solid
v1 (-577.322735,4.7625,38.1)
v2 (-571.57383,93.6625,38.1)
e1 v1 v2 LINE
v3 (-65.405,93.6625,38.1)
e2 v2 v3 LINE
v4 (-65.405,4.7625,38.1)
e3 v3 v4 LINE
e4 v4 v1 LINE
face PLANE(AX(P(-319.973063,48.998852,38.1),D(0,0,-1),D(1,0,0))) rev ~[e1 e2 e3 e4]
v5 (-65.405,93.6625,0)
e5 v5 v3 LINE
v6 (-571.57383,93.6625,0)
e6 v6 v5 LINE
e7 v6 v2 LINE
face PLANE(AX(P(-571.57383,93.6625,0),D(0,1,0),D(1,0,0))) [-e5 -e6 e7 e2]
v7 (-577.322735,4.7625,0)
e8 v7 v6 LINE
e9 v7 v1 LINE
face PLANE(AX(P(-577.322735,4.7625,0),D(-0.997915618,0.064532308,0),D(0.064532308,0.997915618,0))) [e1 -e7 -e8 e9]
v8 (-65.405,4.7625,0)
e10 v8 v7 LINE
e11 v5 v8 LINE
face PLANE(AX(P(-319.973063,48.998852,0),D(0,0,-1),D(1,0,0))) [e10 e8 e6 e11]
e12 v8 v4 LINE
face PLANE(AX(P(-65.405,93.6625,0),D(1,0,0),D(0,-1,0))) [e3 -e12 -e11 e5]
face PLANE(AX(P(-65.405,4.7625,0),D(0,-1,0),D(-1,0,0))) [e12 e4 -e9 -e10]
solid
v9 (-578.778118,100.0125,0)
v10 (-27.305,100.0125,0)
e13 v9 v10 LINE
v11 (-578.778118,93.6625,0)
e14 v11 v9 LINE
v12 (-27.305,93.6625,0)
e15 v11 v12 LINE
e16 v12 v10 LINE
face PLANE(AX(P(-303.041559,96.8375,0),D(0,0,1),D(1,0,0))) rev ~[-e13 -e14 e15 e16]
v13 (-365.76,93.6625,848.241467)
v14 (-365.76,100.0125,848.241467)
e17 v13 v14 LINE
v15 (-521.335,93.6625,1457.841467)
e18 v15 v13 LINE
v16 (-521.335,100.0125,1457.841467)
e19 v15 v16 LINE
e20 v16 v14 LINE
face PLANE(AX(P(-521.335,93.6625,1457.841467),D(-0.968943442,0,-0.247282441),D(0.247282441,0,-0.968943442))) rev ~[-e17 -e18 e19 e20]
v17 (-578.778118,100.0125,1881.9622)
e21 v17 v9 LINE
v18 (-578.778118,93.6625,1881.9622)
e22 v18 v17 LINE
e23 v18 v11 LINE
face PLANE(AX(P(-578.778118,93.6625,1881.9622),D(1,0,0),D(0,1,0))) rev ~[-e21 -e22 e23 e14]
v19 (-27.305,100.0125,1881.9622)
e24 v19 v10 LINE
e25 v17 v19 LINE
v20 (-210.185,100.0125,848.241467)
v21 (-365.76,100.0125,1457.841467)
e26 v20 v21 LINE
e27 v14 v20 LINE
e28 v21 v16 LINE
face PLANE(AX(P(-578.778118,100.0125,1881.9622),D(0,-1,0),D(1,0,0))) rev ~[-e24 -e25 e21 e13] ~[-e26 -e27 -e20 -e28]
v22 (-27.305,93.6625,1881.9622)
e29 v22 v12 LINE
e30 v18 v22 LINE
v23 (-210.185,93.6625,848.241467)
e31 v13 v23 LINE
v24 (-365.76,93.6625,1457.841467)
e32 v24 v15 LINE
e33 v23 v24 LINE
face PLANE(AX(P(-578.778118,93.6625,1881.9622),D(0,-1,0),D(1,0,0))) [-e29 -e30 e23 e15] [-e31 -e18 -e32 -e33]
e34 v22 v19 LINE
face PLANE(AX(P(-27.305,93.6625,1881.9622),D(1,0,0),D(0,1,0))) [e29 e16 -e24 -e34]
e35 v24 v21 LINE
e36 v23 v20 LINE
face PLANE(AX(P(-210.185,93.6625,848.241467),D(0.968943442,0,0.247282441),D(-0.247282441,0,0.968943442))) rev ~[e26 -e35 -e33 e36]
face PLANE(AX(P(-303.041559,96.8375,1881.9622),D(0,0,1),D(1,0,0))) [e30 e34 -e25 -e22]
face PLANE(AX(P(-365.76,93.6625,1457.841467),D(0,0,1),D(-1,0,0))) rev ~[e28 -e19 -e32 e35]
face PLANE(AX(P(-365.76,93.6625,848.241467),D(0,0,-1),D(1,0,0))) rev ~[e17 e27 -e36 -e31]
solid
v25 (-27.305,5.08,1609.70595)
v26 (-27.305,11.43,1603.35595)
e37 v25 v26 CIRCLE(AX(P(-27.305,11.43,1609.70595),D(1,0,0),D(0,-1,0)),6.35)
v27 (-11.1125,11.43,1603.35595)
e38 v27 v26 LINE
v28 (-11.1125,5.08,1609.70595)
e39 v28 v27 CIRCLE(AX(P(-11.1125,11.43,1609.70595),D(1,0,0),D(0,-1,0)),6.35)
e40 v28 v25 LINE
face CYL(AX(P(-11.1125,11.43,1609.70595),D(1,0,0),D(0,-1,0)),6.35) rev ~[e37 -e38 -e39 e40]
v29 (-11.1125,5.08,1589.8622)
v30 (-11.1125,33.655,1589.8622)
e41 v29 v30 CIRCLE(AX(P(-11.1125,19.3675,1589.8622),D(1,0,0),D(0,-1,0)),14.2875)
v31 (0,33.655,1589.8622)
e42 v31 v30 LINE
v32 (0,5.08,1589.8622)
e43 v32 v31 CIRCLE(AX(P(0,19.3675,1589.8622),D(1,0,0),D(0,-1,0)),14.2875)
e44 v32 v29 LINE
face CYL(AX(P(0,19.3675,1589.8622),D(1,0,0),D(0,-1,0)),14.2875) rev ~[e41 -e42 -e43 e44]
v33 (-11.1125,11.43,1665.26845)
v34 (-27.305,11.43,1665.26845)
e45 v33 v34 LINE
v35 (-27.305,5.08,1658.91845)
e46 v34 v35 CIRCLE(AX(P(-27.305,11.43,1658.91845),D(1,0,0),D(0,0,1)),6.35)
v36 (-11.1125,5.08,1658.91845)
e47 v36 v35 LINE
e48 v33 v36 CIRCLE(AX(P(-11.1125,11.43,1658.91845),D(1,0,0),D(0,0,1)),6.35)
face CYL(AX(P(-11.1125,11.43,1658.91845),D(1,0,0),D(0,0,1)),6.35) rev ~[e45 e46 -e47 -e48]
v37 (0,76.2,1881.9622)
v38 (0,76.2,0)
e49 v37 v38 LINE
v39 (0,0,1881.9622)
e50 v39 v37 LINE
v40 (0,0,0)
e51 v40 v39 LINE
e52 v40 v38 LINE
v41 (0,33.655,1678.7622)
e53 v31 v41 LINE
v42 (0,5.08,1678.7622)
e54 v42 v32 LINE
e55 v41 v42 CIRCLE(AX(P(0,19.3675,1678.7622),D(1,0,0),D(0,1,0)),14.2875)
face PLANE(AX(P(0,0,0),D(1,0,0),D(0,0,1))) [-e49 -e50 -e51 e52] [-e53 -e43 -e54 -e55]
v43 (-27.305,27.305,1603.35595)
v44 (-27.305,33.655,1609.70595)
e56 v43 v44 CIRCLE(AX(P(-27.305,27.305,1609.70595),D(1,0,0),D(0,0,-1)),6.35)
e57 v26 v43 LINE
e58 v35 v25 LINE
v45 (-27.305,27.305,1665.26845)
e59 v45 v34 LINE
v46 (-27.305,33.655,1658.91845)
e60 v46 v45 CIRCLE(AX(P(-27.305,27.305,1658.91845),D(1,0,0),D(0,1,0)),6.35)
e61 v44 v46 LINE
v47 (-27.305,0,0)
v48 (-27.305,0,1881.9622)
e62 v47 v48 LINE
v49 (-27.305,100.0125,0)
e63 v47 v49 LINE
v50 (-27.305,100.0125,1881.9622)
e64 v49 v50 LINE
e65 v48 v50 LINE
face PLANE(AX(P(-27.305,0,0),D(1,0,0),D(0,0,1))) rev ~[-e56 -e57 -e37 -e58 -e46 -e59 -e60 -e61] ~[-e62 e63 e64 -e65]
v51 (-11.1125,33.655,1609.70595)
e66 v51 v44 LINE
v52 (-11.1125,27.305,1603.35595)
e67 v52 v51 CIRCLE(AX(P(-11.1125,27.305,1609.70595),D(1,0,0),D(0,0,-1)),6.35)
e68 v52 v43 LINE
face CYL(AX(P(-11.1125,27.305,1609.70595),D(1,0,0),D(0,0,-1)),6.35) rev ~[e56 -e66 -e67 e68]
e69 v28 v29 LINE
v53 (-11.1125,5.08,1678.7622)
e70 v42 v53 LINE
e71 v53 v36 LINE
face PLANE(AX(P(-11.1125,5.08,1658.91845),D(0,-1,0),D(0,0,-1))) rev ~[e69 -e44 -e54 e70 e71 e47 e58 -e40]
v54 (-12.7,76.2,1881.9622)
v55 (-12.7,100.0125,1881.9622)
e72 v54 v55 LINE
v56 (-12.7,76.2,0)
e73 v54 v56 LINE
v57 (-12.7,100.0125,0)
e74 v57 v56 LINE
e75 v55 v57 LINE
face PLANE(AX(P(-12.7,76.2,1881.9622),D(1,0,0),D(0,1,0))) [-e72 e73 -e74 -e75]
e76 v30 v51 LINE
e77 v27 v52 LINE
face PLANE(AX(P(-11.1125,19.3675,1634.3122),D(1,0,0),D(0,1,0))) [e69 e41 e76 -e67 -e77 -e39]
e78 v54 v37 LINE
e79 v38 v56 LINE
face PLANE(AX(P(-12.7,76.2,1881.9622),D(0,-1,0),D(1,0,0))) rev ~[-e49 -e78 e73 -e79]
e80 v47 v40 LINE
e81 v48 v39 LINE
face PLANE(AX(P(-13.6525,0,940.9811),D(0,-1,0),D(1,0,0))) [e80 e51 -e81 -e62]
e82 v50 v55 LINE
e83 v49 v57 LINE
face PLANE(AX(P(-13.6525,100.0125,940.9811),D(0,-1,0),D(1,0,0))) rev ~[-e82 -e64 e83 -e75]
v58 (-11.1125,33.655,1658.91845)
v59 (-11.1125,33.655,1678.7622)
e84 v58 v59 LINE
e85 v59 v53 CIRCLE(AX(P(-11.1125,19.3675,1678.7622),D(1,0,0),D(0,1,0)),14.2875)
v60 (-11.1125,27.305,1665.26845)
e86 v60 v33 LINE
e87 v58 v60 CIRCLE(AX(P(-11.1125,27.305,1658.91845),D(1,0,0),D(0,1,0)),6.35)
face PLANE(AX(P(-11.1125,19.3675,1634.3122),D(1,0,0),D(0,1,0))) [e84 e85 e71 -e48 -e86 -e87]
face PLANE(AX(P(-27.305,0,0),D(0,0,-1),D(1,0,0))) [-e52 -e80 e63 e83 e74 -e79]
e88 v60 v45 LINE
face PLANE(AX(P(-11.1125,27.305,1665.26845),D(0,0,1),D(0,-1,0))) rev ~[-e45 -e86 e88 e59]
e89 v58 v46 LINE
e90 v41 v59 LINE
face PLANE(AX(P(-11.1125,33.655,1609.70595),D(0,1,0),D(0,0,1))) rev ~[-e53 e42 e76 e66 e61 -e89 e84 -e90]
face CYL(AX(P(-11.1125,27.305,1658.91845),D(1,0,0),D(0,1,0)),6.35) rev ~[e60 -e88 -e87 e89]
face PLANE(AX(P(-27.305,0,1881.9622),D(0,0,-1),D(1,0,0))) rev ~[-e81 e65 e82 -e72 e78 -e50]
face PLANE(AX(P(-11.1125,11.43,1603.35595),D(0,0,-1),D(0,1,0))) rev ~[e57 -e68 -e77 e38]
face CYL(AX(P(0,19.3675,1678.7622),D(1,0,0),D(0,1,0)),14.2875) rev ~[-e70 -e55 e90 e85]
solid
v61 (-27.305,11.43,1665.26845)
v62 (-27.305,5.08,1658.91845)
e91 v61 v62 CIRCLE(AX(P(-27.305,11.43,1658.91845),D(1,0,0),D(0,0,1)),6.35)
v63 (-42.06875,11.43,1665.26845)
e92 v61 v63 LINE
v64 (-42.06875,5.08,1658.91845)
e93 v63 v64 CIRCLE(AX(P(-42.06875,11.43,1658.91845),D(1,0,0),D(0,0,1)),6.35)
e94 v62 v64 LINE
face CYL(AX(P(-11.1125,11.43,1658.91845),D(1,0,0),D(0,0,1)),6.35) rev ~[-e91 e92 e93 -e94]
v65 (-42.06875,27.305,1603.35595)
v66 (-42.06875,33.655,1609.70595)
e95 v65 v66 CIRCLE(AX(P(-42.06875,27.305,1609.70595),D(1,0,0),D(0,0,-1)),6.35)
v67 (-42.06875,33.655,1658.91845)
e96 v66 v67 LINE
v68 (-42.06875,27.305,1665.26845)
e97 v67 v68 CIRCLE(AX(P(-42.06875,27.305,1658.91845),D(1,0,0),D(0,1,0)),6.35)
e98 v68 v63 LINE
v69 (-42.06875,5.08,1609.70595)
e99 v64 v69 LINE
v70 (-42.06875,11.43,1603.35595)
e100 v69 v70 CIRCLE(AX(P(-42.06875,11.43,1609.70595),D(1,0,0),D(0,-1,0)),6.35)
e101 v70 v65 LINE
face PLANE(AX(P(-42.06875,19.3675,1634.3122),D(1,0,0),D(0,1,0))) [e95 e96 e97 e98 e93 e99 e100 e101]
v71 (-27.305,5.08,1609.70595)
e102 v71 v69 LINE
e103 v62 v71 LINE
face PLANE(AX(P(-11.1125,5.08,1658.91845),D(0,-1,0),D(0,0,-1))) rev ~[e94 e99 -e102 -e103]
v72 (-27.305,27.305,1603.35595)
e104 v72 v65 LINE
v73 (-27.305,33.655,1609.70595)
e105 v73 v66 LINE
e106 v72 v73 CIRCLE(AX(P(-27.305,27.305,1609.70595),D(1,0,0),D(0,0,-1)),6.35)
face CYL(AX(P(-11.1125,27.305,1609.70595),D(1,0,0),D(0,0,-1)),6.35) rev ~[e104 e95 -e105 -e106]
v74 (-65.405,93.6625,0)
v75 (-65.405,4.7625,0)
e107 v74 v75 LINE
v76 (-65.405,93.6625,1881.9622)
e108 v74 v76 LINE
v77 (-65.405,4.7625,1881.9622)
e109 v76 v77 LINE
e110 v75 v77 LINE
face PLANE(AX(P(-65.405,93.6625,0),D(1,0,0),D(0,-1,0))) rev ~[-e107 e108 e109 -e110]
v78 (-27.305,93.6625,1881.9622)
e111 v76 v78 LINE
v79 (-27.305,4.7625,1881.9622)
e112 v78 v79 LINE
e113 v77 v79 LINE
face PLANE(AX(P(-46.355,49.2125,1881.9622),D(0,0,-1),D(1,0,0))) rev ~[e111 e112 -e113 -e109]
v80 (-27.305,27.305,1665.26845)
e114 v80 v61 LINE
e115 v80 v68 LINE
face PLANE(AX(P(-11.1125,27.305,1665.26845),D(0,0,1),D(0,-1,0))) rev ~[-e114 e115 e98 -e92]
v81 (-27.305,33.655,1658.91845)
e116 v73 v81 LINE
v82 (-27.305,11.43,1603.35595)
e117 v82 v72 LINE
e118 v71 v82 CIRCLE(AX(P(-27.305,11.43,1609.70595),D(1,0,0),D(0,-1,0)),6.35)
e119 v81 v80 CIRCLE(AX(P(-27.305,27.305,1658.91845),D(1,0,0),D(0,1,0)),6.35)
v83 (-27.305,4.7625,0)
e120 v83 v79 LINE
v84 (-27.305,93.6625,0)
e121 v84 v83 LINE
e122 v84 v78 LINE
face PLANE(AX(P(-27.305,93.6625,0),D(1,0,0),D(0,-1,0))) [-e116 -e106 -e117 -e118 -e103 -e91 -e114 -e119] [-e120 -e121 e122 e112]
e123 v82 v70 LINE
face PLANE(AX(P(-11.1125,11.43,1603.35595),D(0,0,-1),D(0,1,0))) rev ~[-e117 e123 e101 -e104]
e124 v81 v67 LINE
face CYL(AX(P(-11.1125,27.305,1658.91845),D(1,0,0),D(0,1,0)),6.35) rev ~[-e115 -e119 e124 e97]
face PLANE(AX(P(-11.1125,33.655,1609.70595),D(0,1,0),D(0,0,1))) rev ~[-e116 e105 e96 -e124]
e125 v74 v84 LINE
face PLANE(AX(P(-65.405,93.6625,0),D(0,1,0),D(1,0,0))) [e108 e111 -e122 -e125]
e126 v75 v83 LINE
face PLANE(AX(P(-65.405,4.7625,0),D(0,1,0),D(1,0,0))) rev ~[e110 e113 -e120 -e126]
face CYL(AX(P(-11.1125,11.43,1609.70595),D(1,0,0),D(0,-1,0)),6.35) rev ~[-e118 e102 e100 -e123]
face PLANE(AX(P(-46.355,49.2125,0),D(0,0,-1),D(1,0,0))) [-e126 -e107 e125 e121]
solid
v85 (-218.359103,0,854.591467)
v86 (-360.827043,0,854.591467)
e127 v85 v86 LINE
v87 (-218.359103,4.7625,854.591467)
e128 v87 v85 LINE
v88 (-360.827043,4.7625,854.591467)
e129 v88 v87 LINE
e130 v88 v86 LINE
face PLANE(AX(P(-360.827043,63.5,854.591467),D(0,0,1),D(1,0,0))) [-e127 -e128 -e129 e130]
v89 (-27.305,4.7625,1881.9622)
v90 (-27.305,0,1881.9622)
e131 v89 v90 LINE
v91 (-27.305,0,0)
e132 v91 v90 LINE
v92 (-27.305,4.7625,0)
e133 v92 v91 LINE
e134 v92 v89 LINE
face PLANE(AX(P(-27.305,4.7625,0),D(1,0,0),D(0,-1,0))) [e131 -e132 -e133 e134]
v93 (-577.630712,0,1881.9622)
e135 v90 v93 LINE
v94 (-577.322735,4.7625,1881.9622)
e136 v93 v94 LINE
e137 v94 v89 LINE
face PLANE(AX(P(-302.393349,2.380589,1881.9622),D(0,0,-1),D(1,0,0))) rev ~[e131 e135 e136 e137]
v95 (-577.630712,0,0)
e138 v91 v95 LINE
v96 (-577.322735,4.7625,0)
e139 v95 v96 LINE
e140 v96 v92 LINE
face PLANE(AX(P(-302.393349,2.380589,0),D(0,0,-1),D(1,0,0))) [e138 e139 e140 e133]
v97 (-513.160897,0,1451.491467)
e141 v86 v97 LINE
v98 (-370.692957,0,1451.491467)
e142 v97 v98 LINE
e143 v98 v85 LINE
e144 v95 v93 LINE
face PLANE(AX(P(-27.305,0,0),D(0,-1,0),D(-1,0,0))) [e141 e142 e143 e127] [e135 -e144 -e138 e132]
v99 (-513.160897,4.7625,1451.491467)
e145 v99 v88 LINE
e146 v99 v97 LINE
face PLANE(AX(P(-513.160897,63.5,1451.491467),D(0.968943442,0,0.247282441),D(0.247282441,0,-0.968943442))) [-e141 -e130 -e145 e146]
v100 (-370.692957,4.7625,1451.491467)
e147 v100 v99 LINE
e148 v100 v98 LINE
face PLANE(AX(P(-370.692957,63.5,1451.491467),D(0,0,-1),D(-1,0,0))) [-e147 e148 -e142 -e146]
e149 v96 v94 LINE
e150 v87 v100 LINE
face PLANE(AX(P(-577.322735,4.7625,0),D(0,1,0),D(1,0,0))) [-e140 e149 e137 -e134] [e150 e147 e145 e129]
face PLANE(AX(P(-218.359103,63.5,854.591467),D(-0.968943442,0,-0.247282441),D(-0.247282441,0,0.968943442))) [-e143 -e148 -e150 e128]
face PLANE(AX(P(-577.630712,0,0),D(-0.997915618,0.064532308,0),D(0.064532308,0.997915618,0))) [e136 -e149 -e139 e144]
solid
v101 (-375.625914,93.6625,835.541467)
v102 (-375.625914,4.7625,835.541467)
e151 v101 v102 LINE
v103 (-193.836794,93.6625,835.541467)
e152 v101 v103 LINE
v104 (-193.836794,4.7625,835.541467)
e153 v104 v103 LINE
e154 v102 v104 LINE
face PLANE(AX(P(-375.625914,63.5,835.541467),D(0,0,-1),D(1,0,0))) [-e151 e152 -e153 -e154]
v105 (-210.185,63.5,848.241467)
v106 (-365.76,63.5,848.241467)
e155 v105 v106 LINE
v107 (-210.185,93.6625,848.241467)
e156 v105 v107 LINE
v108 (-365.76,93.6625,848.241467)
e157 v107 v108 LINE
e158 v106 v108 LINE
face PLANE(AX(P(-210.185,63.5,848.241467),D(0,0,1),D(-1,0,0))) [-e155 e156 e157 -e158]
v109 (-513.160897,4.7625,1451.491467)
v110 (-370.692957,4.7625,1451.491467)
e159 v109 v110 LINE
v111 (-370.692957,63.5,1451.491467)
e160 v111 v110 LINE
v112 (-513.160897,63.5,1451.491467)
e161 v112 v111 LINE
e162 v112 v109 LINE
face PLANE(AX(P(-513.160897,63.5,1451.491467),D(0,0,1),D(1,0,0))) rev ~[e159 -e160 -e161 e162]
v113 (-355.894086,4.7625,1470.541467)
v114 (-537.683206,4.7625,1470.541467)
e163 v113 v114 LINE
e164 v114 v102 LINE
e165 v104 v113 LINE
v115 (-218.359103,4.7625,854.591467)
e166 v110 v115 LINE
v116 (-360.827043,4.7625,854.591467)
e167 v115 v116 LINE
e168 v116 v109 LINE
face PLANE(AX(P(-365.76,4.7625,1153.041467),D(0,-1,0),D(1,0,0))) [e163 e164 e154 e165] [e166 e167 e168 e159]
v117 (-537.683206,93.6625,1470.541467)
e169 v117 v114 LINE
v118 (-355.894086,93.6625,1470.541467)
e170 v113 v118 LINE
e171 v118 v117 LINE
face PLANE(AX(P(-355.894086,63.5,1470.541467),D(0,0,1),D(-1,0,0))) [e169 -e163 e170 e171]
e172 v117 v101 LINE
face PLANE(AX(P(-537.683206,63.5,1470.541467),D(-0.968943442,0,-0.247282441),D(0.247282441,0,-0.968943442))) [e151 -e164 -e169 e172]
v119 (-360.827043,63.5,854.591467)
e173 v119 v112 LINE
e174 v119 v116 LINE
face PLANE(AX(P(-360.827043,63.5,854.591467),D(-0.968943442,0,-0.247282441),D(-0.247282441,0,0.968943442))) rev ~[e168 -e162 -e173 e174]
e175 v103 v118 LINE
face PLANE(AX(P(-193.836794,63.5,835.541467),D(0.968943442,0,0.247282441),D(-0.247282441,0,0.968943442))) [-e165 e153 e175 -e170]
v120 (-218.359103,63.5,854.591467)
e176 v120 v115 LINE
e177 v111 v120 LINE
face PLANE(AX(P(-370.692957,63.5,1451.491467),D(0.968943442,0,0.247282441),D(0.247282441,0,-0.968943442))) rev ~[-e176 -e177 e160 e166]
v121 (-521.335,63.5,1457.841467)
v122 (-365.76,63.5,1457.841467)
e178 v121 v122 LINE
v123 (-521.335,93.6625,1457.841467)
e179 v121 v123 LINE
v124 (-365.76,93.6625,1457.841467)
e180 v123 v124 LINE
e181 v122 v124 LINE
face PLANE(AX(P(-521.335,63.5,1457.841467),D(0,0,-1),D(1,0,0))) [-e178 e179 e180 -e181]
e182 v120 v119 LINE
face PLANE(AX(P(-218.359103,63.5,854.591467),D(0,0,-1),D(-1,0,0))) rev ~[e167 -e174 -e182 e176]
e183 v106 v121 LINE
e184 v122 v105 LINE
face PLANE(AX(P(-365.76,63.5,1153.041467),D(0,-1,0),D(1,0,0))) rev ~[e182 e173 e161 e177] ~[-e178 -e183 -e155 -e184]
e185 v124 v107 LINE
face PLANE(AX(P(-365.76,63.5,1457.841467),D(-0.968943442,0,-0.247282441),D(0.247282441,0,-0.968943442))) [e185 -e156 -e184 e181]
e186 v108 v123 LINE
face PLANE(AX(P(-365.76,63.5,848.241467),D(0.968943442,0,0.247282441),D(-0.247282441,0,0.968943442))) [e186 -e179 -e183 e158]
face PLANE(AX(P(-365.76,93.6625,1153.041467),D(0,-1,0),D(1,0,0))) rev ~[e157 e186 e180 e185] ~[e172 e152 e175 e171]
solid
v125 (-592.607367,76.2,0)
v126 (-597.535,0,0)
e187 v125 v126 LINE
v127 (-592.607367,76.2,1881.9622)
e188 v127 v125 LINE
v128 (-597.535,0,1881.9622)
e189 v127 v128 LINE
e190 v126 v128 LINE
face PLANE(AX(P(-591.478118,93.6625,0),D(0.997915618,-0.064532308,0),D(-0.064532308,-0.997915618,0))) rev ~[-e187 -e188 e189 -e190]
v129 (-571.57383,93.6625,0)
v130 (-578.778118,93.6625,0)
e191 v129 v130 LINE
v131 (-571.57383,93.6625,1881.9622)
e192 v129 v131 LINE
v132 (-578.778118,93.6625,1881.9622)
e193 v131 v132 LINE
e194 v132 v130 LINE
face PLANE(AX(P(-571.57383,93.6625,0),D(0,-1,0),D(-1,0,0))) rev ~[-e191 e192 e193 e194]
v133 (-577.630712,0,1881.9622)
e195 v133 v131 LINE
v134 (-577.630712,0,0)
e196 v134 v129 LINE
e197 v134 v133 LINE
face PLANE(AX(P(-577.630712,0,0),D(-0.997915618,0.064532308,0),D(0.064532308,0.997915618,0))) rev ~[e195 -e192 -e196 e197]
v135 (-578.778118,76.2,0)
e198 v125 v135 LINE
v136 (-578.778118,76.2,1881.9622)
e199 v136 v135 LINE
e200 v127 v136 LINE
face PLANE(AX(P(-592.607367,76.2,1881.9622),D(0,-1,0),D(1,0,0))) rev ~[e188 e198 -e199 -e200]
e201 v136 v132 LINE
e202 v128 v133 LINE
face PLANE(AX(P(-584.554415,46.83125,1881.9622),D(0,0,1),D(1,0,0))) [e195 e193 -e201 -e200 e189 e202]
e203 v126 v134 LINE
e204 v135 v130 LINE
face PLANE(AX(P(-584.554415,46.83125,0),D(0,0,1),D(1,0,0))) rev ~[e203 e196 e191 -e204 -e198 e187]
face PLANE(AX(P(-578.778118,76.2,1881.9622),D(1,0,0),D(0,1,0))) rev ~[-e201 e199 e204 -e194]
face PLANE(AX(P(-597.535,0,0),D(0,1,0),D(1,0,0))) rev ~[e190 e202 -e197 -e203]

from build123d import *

# Parameters (mm, degrees)
F0_W      = 27.305
F0_H      = 1881.9622
F1_DEPTH  = 100.0125
F2_W      = 38.1
F2_H      = 88.9
F3_DEPTH  = 1881.9622
F6_DEPTH  = 1881.9622
F8_DEPTH  = 1881.9622
F10_DEPTH = 38.1
F12_DEPTH = 11.1125
F14_DEPTH = 30.95625
F16_DEPTH = 596.43992
F17_W     = 12.7
F17_H     = 23.8125
F18_DEPTH = 1881.9632
F19_W     = 551.4731178237
F19_H     = 6.35
F20_DEPTH = 1881.9622
F23_DEPTH = 6.351
F26_DEPTH = 58.7375
F27_DEPTH = 30.1625
F28_DEPTH = 63.501


with BuildPart() as f1:
    # F0 (on Front) → F1 (new body)
    with BuildSketch(Plane.XZ):
        with Locations((-13.6525, 940.9811)):
            Rectangle(F0_W, F0_H)
    extrude(amount=-F1_DEPTH)

    # F11 (on face) → F12 (cut)
    with BuildSketch(Plane.YZ):
        with BuildLine():
            Line((5.08, 1678.7622), (5.08, 1589.8622))
            ThreePointArc((5.08, 1589.8622), (19.3675, 1575.5747), (33.655, 1589.8622))
            Line((33.655, 1589.8622), (33.655, 1678.7622))
            ThreePointArc((33.655, 1678.7622), (19.3675, 1693.0497), (5.08, 1678.7622))
        make_face()
    extrude(amount=-F12_DEPTH, mode=Mode.SUBTRACT)


with BuildPart() as f3:
    # F2 (on face) → F3 (new body, through all)
    with BuildSketch(Plane(origin=(0, 0, 0), x_dir=(1, 0, 0), z_dir=(0, 0, -1))):
        with Locations((-46.355, -49.2125)):
            Rectangle(F2_W, F2_H)
    extrude(amount=-F3_DEPTH)


with BuildPart() as f6:
    # F5 (on Top) → F6 (new body, through all)
    with BuildSketch(Plane.XY):
        Polygon((-571.5738296892, 93.6625), (-591.4781178237, 93.6625), (-597.535, 0), (-577.6307118655, 0), align=None)
    extrude(amount=F6_DEPTH)


with BuildPart() as f8:
    # F7 (on face) → F8 (new body, through all)
    with BuildSketch(Plane(origin=(0, 0, 0), x_dir=(1, 0, 0), z_dir=(0, 0, -1))):
        Polygon((-577.3227348057, -4.7625), (-27.305, -4.7625), (-27.305, 0), (-577.6307118655, 0), align=None)
    extrude(amount=-F8_DEPTH)

    # F25 (on offset) → F28 (cut, through all)
    with BuildSketch(Plane.XZ.offset(-63.5)):
        Polygon((-370.6929571686, 1451.4914666667), (-513.160896998, 1451.4914666667), (-360.8270428314, 854.5914666668), (-218.3591030019, 854.5914666667), align=None)
    extrude(amount=F28_DEPTH, mode=Mode.SUBTRACT)


with BuildPart() as f10:
    # F9 (on face) → F10 (new body)
    with BuildSketch(Plane(origin=(0, 0, 0), x_dir=(1, 0, 0), z_dir=(0, 0, -1))):
        Polygon((-571.5738296892, -93.6625), (-65.405, -93.6625), (-65.405, -4.7625), (-577.3227348057, -4.7625), align=None)
    extrude(amount=-F10_DEPTH)


with BuildPart() as f14_tool:
    # F13 (on face) → F14 (new body)
    with BuildSketch(Plane.YZ.offset(-11.1125)):
        with BuildLine():
            Line((27.305, 1665.26845), (11.43, 1665.26845))
            ThreePointArc((11.43, 1665.26845), (6.9398719395, 1663.4085780605), (5.08, 1658.91845))
            Line((5.08, 1658.91845), (5.08, 1609.70595))
            ThreePointArc((5.08, 1609.70595), (6.9398719395, 1605.2158219395), (11.43, 1603.35595))
            Line((11.43, 1603.35595), (27.305, 1603.35595))
            ThreePointArc((27.305, 1603.35595), (31.7951280605, 1605.2158219395), (33.655, 1609.70595))
            Line((33.655, 1609.70595), (33.655, 1658.91845))
            ThreePointArc((33.655, 1658.91845), (31.7951280605, 1663.4085780605), (27.305, 1665.26845))
        make_face()
    extrude(amount=-F14_DEPTH)


with BuildPart() as f1_1:
    add(f1.part)

    # F14: cut by f14_tool
    add(f14_tool.part, mode=Mode.SUBTRACT)


with BuildPart() as f3_1:
    add(f3.part)

    # F14: cut by f14_tool
    add(f14_tool.part, mode=Mode.SUBTRACT)


with BuildPart() as f16:
    # F15 (on offset) → F16 (new body)
    with BuildSketch(Plane.YZ.offset(-600.71)):
        Polygon((-20.0647553623, 1526.7833842013), (-9.9087004615, 1526.5002784738), (0, 1881.9622), align=None)
    extrude(amount=F16_DEPTH)


with BuildPart() as f16b:
    # F15 (on offset) → F16, piece 2 (new body)
    with BuildSketch(Plane.YZ.offset(-600.71)):
        Polygon((-16.3270426588, 1386.8002784738), (-6.1685714286, 1386.6240335758), (0, 1742.1705266348), (-9.9087004615, 1526.5002784738), align=None)
    extrude(amount=F16_DEPTH)


with BuildPart() as f16c:
    # F15 (on offset) → F16, piece 3 (new body)
    with BuildSketch(Plane.YZ.offset(-600.71)):
        Polygon((0, 1246.9240335758), (0, 1602.5240335758), (-6.1685714286, 1386.6240335758), (-10.16, 1246.9240335758), align=None)
    extrude(amount=F16_DEPTH)


with BuildPart() as f18_tool:
    # F17 (on face) → F18 (new body, through all)
    with BuildSketch(Plane.XY.offset(1881.9622)):
        with Locations((-6.35, 88.10625)):
            Rectangle(F17_W, F17_H)
        Polygon((-592.607367043, 76.2), (-591.4781178237, 76.2), (-578.7781178237, 76.2), (-578.7781178237, 93.6625), (-591.4781178237, 93.6625), align=None)
    extrude(amount=-F18_DEPTH)


with BuildPart() as f1_2:
    add(f1_1.part)

    # F18: cut by f18_tool
    add(f18_tool.part, mode=Mode.SUBTRACT)


with BuildPart() as f6_1:
    add(f6.part)

    # F18: cut by f18_tool
    add(f18_tool.part, mode=Mode.SUBTRACT)


with BuildPart() as f20:
    # F19 (on face) → F20 (new body, through all)
    with BuildSketch(Plane.XY.offset(1881.9622)):
        with Locations((-303.0415589119, 96.8375)):
            Rectangle(F19_W, F19_H)
    extrude(amount=-F20_DEPTH)

    # F22 (on face) → F23 (cut, through all)
    with BuildSketch(Plane.XZ.offset(-93.6625)):
        Polygon((-365.76, 1457.8414666667), (-521.335, 1457.8414666667), (-365.76, 848.2414666666), (-210.185, 848.2414666667), align=None)
    extrude(amount=-F23_DEPTH, mode=Mode.SUBTRACT)


with BuildPart() as f26:
    # F25 (on offset) → F26 (new body, through all)
    with BuildSketch(Plane.XZ.offset(-63.5)):
        Polygon((-355.8940856629, 1470.5414666667), (-537.6832060038, 1470.5414666667), (-375.6259143372, 835.5414666669), (-193.8367939962, 835.5414666667), align=None)
        Polygon((-365.76, 848.241466667), (-521.3350000002, 1457.8414666674), (-365.76, 1457.8414666667), (-210.1850000001, 848.2414666671), align=None, mode=Mode.SUBTRACT)
        Polygon((-365.76, 1457.8414666667), (-521.335, 1457.8414666667), (-365.76, 848.241466667), (-210.185, 848.2414666667), align=None)
        Polygon((-360.8270428314, 854.5914666668), (-513.1608969981, 1451.4914666668), (-370.6929571686, 1451.4914666667), (-218.359103002, 854.591466667), align=None, mode=Mode.SUBTRACT)
    extrude(amount=F26_DEPTH)

    # F25 (on offset) → F27 (join, through all)
    with BuildSketch(Plane.XZ.offset(-63.5)):
        Polygon((-355.8940856629, 1470.5414666667), (-537.6832060038, 1470.5414666667), (-375.6259143372, 835.5414666669), (-193.8367939962, 835.5414666667), align=None)
        Polygon((-365.76, 848.241466667), (-521.3350000002, 1457.8414666674), (-365.76, 1457.8414666667), (-210.1850000001, 848.2414666671), align=None, mode=Mode.SUBTRACT)
    extrude(amount=-F27_DEPTH)


solid = Compound([f8.part, f10.part, f3_1.part, f1_2.part, f6_1.part, f20.part, f26.part])
